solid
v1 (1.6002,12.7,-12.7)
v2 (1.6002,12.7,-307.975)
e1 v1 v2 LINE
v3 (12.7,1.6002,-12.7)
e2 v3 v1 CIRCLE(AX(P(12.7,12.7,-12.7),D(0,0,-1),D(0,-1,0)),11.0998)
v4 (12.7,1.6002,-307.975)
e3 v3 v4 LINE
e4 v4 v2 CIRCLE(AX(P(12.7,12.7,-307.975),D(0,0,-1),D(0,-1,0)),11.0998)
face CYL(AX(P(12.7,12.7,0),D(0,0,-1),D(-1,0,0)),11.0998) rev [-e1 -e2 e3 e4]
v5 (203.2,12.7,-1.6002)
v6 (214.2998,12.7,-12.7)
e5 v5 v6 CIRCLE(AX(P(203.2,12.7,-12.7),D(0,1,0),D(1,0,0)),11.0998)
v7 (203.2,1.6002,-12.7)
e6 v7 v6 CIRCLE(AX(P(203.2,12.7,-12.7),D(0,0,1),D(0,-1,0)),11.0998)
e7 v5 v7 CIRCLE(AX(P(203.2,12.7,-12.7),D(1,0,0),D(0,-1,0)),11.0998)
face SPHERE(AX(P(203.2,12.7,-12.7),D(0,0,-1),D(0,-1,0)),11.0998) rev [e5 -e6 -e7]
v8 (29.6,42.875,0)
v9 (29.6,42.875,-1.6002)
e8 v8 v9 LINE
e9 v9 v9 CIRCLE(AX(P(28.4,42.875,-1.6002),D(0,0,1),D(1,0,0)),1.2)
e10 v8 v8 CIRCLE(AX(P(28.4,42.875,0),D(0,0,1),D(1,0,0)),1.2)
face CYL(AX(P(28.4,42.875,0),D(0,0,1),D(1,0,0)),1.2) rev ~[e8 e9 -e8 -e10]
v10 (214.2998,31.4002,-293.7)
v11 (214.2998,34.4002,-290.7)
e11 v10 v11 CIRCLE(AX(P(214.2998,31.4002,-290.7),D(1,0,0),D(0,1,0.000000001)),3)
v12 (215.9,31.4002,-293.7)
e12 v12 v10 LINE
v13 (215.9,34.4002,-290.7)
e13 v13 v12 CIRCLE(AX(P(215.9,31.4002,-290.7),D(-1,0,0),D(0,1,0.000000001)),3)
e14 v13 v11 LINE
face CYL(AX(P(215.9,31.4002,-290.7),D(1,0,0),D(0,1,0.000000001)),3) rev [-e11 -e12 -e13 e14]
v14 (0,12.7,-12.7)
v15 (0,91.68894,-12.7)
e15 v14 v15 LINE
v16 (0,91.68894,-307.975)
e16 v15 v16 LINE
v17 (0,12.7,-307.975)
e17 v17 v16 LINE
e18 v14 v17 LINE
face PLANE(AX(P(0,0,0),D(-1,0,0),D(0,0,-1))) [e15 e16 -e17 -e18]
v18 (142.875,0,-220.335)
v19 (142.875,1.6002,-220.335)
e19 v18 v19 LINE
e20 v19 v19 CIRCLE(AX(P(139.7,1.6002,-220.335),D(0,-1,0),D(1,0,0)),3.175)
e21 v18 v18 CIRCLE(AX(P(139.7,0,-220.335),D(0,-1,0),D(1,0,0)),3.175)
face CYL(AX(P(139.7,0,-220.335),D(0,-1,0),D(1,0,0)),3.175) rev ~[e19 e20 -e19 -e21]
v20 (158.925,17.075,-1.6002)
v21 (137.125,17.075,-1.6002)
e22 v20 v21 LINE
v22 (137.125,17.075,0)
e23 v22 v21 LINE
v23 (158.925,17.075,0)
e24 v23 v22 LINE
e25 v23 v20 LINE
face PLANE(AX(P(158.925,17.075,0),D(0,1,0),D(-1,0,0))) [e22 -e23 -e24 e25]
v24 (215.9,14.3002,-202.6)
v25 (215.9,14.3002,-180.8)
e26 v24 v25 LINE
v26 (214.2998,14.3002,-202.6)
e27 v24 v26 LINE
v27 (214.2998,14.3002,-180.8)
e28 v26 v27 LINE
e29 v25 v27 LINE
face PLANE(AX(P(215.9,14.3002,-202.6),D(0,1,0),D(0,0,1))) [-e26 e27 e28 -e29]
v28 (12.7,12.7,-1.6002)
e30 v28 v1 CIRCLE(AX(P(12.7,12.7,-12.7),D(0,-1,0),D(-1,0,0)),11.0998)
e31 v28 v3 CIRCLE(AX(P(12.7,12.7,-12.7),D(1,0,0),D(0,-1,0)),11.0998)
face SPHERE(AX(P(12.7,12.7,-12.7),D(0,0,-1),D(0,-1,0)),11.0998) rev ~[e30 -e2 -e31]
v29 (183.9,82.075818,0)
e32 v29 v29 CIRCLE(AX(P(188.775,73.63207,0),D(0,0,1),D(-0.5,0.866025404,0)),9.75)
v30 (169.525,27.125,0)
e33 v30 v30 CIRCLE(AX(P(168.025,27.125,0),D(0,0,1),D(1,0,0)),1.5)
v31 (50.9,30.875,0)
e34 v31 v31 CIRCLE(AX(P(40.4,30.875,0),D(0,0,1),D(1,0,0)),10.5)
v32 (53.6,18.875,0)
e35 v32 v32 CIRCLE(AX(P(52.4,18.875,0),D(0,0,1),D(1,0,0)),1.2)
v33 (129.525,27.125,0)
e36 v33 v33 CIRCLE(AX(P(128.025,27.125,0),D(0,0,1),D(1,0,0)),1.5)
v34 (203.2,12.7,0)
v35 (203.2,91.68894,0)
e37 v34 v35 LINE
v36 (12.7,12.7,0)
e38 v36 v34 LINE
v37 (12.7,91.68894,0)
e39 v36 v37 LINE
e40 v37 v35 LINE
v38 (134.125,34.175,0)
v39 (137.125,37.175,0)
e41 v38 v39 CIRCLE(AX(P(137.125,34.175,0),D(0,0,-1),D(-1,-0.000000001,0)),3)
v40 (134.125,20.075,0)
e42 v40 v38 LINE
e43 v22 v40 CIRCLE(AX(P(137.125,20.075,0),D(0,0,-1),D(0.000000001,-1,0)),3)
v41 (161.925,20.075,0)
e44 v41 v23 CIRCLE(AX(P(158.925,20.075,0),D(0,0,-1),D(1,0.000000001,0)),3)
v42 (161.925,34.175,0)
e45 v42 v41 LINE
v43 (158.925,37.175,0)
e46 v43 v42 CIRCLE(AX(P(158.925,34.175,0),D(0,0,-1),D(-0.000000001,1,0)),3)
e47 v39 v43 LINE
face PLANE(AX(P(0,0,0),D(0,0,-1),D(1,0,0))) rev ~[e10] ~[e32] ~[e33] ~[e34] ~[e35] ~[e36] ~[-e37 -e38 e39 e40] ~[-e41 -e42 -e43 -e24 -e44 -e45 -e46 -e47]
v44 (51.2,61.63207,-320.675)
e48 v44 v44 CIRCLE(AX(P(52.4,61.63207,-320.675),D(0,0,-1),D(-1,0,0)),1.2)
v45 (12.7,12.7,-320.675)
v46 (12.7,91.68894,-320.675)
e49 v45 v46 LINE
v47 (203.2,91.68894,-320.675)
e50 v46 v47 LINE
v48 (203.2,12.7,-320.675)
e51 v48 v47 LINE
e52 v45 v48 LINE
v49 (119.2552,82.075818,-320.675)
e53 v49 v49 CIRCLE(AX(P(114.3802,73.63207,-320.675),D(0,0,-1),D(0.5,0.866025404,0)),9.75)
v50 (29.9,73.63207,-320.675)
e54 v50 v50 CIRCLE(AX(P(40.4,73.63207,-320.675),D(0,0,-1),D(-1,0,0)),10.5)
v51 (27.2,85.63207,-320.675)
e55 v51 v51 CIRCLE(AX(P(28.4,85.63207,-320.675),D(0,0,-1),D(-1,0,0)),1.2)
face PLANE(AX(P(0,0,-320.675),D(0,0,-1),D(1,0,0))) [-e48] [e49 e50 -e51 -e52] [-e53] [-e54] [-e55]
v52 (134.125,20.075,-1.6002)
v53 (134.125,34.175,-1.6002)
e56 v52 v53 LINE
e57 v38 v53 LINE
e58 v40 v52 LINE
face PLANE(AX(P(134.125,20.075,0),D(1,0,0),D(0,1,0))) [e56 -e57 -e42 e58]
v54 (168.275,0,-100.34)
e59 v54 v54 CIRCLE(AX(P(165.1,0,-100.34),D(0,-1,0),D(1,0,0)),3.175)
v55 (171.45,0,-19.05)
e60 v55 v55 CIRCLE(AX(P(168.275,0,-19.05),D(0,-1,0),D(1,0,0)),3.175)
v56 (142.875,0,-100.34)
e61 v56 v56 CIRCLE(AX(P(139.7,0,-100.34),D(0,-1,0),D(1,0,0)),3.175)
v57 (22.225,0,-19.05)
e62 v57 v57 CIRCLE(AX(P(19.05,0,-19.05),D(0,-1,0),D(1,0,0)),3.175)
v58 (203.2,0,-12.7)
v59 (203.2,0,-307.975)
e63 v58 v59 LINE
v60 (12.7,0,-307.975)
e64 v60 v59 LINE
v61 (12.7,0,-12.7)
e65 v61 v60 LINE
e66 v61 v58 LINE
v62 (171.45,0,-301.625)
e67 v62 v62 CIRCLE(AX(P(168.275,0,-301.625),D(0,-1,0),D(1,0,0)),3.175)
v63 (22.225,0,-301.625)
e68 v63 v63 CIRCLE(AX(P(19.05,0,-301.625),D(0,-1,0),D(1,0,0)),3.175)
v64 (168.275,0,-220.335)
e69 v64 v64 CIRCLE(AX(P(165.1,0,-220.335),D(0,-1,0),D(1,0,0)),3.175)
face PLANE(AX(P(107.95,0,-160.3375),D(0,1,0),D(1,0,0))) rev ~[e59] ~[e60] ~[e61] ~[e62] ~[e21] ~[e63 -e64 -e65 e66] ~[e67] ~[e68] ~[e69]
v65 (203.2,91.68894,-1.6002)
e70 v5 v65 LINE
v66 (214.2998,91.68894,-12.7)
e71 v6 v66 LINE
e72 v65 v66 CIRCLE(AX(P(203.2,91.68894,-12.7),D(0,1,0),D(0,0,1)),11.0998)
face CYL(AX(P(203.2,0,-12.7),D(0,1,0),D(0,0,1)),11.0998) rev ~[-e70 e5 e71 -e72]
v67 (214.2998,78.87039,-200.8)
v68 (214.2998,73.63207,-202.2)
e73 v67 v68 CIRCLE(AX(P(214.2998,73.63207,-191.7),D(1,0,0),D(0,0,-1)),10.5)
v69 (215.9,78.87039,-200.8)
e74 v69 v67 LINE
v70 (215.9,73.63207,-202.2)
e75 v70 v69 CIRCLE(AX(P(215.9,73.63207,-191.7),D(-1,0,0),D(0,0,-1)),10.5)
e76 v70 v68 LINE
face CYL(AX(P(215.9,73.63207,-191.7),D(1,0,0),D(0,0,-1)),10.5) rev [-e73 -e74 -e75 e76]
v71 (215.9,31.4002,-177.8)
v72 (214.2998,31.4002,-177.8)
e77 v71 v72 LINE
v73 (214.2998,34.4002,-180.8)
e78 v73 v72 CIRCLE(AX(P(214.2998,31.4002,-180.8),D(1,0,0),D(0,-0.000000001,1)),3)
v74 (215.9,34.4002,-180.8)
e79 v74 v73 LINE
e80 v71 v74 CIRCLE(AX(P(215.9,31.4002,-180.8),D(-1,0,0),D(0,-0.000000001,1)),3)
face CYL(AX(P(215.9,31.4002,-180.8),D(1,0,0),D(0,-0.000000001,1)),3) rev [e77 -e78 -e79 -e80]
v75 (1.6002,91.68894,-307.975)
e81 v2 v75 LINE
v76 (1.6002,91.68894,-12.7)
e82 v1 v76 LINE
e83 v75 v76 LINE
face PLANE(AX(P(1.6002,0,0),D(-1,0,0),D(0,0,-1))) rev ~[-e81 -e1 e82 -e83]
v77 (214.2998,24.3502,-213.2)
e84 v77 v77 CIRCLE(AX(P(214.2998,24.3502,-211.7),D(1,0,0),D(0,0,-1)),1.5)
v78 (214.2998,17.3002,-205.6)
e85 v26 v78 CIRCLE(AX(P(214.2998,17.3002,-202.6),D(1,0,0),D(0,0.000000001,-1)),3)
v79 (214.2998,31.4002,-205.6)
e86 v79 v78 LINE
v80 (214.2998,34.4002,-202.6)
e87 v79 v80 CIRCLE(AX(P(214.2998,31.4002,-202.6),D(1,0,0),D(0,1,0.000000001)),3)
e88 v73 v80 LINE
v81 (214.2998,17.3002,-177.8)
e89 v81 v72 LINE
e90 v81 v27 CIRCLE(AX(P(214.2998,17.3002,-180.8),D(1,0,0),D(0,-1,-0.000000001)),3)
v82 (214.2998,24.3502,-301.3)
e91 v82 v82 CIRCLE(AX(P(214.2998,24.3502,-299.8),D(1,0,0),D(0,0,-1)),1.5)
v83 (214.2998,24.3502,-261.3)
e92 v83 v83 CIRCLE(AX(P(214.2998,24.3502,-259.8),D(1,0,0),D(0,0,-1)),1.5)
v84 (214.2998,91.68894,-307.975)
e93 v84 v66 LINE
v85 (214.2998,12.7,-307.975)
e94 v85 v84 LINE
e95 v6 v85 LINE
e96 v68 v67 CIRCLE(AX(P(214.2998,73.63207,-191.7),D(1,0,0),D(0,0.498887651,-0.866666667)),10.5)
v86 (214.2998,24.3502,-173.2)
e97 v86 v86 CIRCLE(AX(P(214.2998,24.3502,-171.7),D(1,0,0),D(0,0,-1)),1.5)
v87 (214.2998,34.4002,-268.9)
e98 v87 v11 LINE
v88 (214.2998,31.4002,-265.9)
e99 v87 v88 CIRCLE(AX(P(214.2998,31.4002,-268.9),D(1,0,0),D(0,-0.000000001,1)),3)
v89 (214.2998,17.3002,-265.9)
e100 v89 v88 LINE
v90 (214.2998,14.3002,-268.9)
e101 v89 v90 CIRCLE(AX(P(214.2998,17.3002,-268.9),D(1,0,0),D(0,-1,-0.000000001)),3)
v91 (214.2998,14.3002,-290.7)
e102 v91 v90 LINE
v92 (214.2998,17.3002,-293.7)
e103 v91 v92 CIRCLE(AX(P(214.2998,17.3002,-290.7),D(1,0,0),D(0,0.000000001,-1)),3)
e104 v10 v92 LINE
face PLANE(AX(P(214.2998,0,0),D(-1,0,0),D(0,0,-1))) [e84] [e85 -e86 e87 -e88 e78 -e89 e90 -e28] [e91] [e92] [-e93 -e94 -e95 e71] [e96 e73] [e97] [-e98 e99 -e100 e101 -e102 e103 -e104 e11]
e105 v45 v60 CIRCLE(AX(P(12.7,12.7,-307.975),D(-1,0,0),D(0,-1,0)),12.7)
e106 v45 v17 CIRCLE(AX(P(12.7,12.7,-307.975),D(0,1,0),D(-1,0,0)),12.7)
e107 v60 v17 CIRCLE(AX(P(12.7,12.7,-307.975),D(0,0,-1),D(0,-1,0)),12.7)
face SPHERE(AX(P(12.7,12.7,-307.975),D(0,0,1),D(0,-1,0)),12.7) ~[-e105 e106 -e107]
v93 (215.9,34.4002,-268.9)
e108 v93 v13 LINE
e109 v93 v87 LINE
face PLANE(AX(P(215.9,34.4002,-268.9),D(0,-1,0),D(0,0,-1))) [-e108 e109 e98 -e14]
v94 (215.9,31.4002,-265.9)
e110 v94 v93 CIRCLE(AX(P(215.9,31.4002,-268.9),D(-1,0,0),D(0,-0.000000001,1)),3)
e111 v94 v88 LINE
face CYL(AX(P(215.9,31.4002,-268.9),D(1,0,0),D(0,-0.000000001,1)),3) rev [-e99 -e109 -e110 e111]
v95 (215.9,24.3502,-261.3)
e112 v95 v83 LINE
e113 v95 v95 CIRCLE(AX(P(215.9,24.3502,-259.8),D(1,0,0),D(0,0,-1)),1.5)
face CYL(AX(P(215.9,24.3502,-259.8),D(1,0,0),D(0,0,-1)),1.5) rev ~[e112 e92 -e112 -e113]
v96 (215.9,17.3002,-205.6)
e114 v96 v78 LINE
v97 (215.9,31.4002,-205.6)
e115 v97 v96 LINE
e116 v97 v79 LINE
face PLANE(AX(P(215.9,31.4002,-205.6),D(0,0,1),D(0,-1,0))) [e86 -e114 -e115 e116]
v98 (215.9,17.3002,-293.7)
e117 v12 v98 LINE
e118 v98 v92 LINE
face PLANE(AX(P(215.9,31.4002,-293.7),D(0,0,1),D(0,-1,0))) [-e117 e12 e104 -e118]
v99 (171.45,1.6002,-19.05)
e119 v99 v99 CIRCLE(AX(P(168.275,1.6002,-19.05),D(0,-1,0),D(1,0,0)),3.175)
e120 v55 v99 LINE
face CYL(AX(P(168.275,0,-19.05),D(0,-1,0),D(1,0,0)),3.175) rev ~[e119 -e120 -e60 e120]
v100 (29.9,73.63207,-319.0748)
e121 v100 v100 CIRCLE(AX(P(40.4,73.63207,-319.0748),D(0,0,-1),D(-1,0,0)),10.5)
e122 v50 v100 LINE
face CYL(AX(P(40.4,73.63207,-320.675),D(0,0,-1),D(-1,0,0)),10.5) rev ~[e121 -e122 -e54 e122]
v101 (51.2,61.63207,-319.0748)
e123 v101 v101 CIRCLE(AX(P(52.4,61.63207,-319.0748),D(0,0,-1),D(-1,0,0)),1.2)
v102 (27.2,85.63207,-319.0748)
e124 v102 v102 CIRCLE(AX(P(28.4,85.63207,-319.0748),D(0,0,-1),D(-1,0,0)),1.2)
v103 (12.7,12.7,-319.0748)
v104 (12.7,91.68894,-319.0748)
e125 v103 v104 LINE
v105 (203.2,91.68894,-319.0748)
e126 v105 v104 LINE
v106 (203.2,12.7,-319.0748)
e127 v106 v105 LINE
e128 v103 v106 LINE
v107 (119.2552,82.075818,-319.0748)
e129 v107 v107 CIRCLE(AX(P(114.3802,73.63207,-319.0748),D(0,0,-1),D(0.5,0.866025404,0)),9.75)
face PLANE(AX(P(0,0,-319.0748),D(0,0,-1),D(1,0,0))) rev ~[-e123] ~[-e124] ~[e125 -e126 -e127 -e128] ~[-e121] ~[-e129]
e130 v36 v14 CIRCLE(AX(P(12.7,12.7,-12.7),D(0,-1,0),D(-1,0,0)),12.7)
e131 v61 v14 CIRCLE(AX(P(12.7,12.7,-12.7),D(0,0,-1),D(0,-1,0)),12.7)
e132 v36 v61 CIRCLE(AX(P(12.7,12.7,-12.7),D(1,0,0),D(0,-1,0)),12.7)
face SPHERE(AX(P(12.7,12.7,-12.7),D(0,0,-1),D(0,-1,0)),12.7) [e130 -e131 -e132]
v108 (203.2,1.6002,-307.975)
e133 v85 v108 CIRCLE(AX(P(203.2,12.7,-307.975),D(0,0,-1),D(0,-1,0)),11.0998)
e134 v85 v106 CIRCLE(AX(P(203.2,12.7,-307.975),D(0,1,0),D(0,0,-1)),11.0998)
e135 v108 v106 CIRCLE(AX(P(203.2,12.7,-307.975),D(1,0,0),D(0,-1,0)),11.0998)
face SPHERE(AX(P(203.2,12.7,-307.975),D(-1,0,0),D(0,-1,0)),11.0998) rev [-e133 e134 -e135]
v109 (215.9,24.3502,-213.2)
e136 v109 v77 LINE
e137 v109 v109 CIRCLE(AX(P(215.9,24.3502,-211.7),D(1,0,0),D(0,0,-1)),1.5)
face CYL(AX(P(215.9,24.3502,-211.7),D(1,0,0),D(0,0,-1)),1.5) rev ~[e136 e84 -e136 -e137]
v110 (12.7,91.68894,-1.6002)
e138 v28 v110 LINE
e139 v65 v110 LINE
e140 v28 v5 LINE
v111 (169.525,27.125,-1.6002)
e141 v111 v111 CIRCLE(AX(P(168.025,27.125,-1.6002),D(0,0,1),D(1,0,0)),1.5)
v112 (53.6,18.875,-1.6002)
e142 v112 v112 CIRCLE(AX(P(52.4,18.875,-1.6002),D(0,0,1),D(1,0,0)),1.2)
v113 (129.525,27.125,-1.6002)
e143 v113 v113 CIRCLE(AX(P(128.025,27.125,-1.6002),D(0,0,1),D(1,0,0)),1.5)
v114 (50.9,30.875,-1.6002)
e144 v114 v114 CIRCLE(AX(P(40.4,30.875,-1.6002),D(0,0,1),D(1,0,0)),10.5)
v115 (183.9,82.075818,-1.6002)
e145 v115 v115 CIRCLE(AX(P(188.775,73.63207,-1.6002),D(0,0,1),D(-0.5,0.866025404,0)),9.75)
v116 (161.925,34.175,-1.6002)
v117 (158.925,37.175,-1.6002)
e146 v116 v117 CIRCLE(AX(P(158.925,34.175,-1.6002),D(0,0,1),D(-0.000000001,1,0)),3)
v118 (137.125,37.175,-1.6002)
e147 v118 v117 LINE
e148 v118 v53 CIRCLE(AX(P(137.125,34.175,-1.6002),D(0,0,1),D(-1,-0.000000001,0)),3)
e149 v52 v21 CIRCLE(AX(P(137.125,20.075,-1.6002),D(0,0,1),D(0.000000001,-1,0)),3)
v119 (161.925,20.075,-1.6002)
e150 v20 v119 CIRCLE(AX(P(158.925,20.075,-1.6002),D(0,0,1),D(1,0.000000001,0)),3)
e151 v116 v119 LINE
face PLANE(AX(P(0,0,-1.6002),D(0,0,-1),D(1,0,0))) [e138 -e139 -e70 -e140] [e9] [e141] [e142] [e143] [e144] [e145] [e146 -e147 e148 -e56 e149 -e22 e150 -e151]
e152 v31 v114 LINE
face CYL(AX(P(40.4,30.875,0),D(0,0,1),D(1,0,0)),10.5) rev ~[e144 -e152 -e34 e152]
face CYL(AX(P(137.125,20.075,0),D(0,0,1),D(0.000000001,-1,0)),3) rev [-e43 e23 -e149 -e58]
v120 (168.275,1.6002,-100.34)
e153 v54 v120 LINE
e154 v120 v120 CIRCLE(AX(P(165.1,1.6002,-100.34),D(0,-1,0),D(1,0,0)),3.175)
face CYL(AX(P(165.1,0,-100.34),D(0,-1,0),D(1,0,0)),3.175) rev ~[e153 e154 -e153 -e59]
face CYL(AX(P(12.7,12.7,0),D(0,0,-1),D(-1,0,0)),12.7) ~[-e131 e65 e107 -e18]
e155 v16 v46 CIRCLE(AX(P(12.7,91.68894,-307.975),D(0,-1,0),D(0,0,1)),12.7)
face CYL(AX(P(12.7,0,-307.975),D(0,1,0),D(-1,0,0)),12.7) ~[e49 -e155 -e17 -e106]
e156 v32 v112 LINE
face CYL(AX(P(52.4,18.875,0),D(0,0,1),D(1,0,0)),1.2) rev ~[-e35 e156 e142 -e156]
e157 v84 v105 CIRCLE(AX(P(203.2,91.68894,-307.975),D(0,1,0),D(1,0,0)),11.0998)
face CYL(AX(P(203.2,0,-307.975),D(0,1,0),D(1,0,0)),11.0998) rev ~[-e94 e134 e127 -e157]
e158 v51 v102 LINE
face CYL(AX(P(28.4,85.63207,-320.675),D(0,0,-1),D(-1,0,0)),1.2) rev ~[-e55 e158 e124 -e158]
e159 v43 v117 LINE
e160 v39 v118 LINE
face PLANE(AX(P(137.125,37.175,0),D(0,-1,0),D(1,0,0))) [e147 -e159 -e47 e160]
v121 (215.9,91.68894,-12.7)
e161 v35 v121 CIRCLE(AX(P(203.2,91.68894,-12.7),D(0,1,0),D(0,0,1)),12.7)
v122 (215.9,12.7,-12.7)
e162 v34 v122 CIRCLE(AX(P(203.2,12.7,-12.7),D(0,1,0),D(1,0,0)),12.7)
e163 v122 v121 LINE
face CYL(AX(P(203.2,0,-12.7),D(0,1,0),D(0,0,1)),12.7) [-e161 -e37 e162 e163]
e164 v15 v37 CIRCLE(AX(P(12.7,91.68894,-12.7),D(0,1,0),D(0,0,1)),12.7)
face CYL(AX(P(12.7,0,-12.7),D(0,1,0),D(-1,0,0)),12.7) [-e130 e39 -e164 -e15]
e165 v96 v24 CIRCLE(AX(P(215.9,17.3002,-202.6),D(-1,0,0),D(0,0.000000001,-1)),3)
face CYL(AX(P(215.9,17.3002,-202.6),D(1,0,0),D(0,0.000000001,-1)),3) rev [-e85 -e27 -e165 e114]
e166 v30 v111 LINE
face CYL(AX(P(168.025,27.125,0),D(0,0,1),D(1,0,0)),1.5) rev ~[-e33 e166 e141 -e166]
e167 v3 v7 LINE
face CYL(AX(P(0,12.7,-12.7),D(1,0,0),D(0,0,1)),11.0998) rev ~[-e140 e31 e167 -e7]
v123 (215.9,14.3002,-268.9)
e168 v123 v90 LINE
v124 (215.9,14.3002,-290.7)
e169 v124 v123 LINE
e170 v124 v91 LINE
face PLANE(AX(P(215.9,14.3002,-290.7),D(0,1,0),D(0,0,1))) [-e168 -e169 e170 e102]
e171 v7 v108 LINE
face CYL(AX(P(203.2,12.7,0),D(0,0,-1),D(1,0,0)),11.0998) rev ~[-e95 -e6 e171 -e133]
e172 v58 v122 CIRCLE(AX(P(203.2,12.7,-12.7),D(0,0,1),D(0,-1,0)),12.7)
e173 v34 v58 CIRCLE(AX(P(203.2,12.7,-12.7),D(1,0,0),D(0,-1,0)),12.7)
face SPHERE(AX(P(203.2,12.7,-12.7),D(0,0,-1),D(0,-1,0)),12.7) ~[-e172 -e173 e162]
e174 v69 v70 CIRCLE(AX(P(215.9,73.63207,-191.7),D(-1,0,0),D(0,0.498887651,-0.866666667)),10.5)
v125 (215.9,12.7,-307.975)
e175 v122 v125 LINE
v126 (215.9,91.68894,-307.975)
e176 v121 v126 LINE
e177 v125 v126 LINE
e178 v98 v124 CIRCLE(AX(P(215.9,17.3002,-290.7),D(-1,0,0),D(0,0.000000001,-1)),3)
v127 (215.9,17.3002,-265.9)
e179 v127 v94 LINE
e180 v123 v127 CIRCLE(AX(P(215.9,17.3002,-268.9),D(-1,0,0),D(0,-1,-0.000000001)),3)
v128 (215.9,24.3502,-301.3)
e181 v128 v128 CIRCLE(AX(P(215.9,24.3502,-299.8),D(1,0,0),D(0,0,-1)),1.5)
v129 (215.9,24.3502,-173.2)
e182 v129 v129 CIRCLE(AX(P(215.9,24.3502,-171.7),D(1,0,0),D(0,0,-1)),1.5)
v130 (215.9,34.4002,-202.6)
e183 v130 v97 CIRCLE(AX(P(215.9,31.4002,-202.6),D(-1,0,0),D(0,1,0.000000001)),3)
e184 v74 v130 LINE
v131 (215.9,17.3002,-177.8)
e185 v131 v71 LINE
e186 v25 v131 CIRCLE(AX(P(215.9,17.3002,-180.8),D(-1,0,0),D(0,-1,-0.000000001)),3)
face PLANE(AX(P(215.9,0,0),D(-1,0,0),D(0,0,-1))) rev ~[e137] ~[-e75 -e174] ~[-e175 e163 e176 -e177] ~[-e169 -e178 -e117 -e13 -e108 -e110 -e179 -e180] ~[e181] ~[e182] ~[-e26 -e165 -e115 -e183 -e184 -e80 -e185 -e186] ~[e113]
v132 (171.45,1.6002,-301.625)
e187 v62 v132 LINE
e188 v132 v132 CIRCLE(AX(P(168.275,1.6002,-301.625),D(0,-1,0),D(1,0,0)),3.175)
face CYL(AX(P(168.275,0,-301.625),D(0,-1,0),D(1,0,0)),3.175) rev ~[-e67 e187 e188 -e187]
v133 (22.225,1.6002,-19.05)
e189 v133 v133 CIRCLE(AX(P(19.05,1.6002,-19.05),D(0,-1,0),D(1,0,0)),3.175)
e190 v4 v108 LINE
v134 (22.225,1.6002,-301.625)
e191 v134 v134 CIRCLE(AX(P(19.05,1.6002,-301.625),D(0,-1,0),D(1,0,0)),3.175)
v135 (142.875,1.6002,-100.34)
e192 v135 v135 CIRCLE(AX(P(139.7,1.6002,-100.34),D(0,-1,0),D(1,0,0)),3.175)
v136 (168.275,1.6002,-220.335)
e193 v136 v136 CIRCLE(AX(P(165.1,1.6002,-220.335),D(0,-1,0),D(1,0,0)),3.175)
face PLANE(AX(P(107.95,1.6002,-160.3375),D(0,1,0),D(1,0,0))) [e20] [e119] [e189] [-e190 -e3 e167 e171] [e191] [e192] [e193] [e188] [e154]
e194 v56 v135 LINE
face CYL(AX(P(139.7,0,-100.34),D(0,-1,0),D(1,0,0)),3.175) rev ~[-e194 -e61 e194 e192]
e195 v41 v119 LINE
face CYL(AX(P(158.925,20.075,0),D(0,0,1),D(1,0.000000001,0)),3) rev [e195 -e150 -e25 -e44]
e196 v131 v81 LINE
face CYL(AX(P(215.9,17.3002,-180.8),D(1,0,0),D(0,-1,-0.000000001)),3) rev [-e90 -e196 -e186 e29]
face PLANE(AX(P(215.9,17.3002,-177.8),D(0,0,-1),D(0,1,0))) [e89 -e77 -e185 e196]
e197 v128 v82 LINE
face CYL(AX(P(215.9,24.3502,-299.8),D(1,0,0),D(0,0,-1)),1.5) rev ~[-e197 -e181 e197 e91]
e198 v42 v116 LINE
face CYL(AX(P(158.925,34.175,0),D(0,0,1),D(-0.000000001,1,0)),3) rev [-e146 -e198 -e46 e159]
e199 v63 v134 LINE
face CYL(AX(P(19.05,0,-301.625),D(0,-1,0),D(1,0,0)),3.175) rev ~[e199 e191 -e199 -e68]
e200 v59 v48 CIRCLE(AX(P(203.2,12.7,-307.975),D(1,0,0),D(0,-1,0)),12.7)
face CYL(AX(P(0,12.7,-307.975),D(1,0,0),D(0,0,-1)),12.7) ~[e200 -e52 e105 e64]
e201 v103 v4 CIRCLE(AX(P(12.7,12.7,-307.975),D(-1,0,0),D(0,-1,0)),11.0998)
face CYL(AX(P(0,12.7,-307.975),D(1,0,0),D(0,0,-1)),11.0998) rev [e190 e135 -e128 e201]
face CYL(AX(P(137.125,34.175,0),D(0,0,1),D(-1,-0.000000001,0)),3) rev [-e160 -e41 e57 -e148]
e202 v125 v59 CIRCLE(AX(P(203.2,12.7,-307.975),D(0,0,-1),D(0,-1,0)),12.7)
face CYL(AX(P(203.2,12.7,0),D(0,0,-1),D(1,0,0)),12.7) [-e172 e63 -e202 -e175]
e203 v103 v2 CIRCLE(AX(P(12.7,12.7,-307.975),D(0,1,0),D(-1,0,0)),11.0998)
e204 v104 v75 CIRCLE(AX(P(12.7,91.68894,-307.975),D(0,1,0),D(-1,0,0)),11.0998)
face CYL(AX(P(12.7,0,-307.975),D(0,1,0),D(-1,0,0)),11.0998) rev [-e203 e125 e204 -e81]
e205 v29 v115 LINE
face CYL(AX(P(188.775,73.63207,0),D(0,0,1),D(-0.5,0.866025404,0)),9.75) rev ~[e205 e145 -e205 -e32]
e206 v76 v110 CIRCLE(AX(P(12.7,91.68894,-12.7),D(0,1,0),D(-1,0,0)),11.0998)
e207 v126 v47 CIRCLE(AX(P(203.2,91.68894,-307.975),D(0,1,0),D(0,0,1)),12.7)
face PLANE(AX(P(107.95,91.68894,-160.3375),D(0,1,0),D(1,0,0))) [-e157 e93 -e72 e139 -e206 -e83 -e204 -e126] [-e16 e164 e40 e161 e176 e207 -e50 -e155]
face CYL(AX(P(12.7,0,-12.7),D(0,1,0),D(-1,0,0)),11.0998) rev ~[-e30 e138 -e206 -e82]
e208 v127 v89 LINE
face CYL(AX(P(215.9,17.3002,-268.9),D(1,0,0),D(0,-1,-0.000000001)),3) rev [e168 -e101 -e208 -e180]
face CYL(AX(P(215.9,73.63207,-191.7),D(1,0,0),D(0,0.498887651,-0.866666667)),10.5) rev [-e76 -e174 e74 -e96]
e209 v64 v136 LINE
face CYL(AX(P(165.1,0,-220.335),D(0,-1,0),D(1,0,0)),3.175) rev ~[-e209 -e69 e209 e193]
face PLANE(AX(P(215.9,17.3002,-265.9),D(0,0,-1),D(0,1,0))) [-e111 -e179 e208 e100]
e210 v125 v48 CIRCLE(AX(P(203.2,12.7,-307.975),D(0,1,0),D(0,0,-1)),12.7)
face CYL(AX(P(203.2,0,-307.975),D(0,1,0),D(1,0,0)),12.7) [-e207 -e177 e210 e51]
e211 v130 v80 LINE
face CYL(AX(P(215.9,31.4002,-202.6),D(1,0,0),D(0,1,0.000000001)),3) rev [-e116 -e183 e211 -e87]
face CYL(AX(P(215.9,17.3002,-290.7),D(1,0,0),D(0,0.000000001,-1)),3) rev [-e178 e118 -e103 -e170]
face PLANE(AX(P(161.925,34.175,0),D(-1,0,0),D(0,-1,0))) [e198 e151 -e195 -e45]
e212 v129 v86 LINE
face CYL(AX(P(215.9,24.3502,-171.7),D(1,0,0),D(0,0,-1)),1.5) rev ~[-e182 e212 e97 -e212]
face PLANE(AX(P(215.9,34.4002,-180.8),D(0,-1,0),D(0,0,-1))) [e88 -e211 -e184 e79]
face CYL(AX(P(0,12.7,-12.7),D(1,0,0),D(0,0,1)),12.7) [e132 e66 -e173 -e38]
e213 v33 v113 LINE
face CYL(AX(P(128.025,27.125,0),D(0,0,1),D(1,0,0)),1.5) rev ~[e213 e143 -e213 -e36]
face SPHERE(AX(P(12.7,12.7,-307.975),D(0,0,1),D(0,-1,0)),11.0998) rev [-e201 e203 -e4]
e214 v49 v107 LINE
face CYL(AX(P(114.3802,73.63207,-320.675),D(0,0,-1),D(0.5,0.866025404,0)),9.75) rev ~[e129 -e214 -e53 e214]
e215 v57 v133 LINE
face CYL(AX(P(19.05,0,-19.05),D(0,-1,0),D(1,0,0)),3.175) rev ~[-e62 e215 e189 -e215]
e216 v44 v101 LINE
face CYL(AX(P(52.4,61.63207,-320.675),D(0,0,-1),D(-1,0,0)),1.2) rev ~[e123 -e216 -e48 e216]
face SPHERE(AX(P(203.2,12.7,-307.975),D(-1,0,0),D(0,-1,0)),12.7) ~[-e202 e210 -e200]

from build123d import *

# Parameters (mm, degrees)
SKETCH1_W           = 215.9
SKETCH1_H           = 320.675
BOSS_EXTRUDE1_DEPTH = 91.688940066
FILLET1_R           = 12.7
SHELL1_T            = -1.6002
CUT_EXTRUDE1_REACH  = 217.9
SKETCH2_R           = 1.5
CUT_EXTRUDE2_REACH  = 322.675
SKETCH5_R           = 1.5
SKETCH5_R_2         = 1.2
SKETCH5_R_3         = 10.5
CUT_EXTRUDE3_REACH  = 322.675
SKETCH6_R           = 1.2
SKETCH6_R_2         = 10.5
CUT_EXTRUDE4_REACH  = 93.689
SKETCH7_R           = 3.175


with BuildPart() as part:
    # Sketch1 → Boss-Extrude1 (new body)
    with BuildSketch(Plane(origin=(0, 0, 0), x_dir=(1, 0, 0), z_dir=(0, 1, 0))):
        with Locations((107.95, 160.3375)):
            Rectangle(SKETCH1_W, SKETCH1_H)
    extrude(amount=BOSS_EXTRUDE1_DEPTH)

    # Fillet1
    fillet1_edges = [part.edges().sort_by_distance(p)[0] for p in [
        (0, 0, -160.3375),
        (107.95, 0, -320.675),
        (215.9, 0, -160.3375),
        (107.95, 0, 0),
        (0, 45.844470033, 0),
        (0, 45.844470033, -320.675),
        (215.9, 45.844470033, -320.675),
        (215.9, 45.844470033, 0),
    ]]
    fillet(fillet1_edges, radius=FILLET1_R)

    # Shell1
    shell1_openings = [part.faces().sort_by_distance(p)[0] for p in [
        (107.95, 91.688940066, -160.3375),
    ]]
    offset(amount=SHELL1_T, openings=shell1_openings, kind=Kind.INTERSECTION)

    # Sketch2 → Cut-Extrude1 (cut, up to next)
    with BuildSketch(Plane(origin=(215.9, 0, 0), x_dir=(0, 0, -1), z_dir=(1, 0, 0)), mode=Mode.PRIVATE) as cut_extrude1_sk1:
        with BuildLine():
            ThreePointArc((200.8, 78.870390374), (201.843963722, 76.343158375), (202.2, 73.632070033))
            ThreePointArc((202.2, 73.632070033), (181.556036278, 70.920981691), (200.8, 78.870390374))
        make_face()
    cut_extrude1_tool1 = extrude(cut_extrude1_sk1.sketch, amount=-CUT_EXTRUDE1_REACH, mode=Mode.PRIVATE) & part.part
    add(cut_extrude1_tool1.solids().sort_by_distance((215.9, 73.63207, -191.7))[0], mode=Mode.SUBTRACT)
    # Sketch2 → Cut-Extrude1 (cut, up to next)
    with BuildSketch(Plane(origin=(215.9, 0, 0), x_dir=(0, 0, -1), z_dir=(1, 0, 0)), mode=Mode.PRIVATE) as cut_extrude1_sk2:
        with Locations((171.7, 24.3502)):
            Circle(SKETCH2_R)
    cut_extrude1_tool2 = extrude(cut_extrude1_sk2.sketch, amount=-CUT_EXTRUDE1_REACH, mode=Mode.PRIVATE) & part.part
    add(cut_extrude1_tool2.solids().sort_by_distance((215.9, 24.3502, -171.7))[0], mode=Mode.SUBTRACT)
    # Sketch2 → Cut-Extrude1 (cut, up to next)
    with BuildSketch(Plane(origin=(215.9, 0, 0), x_dir=(0, 0, -1), z_dir=(1, 0, 0)), mode=Mode.PRIVATE) as cut_extrude1_sk3:
        with Locations((211.7, 24.3502)):
            Circle(SKETCH2_R)
    cut_extrude1_tool3 = extrude(cut_extrude1_sk3.sketch, amount=-CUT_EXTRUDE1_REACH, mode=Mode.PRIVATE) & part.part
    add(cut_extrude1_tool3.solids().sort_by_distance((215.9, 24.3502, -211.7))[0], mode=Mode.SUBTRACT)
    # Sketch2 → Cut-Extrude1 (cut, up to next)
    with BuildSketch(Plane(origin=(215.9, 0, 0), x_dir=(0, 0, -1), z_dir=(1, 0, 0)), mode=Mode.PRIVATE) as cut_extrude1_sk4:
        with Locations((259.8, 24.3502)):
            Circle(SKETCH2_R)
    cut_extrude1_tool4 = extrude(cut_extrude1_sk4.sketch, amount=-CUT_EXTRUDE1_REACH, mode=Mode.PRIVATE) & part.part
    add(cut_extrude1_tool4.solids().sort_by_distance((215.9, 24.3502, -259.8))[0], mode=Mode.SUBTRACT)
    # Sketch2 → Cut-Extrude1 (cut, up to next)
    with BuildSketch(Plane(origin=(215.9, 0, 0), x_dir=(0, 0, -1), z_dir=(1, 0, 0)), mode=Mode.PRIVATE) as cut_extrude1_sk5:
        with Locations((299.8, 24.3502)):
            Circle(SKETCH2_R)
    cut_extrude1_tool5 = extrude(cut_extrude1_sk5.sketch, amount=-CUT_EXTRUDE1_REACH, mode=Mode.PRIVATE) & part.part
    add(cut_extrude1_tool5.solids().sort_by_distance((215.9, 24.3502, -299.8))[0], mode=Mode.SUBTRACT)
    # Sketch2 → Cut-Extrude1 (cut, up to next)
    with BuildSketch(Plane(origin=(215.9, 0, 0), x_dir=(0, 0, -1), z_dir=(1, 0, 0)), mode=Mode.PRIVATE) as cut_extrude1_sk6:
        with BuildLine():
            Line((268.9, 34.4002), (290.7, 34.4002))
            ThreePointArc((290.7, 34.4002), (292.821320344, 33.521520344), (293.7, 31.4002))
            Line((293.7, 31.4002), (293.7, 17.3002))
            ThreePointArc((293.7, 17.3002), (292.821320344, 15.178879656), (290.7, 14.3002))
            Line((290.7, 14.3002), (268.9, 14.3002))
            ThreePointArc((268.9, 14.3002), (266.778679656, 15.178879656), (265.9, 17.3002))
            Line((265.9, 17.3002), (265.9, 31.4002))
            ThreePointArc((265.9, 31.4002), (266.778679656, 33.521520344), (268.9, 34.4002))
        make_face()
    cut_extrude1_tool6 = extrude(cut_extrude1_sk6.sketch, amount=-CUT_EXTRUDE1_REACH, mode=Mode.PRIVATE) & part.part
    add(cut_extrude1_tool6.solids().sort_by_distance((215.9, 24.3502, -279.8))[0], mode=Mode.SUBTRACT)
    # Sketch2 → Cut-Extrude1 (cut, up to next)
    with BuildSketch(Plane(origin=(215.9, 0, 0), x_dir=(0, 0, -1), z_dir=(1, 0, 0)), mode=Mode.PRIVATE) as cut_extrude1_sk7:
        with BuildLine():
            Line((180.8, 34.4002), (202.6, 34.4002))
            ThreePointArc((202.6, 34.4002), (204.721320344, 33.521520344), (205.6, 31.4002))
            Line((205.6, 31.4002), (205.6, 17.3002))
            ThreePointArc((205.6, 17.3002), (204.721320344, 15.178879656), (202.6, 14.3002))
            Line((202.6, 14.3002), (180.8, 14.3002))
            ThreePointArc((180.8, 14.3002), (178.678679656, 15.178879656), (177.8, 17.3002))
            Line((177.8, 17.3002), (177.8, 31.4002))
            ThreePointArc((177.8, 31.4002), (178.678679656, 33.521520344), (180.8, 34.4002))
        make_face()
    cut_extrude1_tool7 = extrude(cut_extrude1_sk7.sketch, amount=-CUT_EXTRUDE1_REACH, mode=Mode.PRIVATE) & part.part
    add(cut_extrude1_tool7.solids().sort_by_distance((215.9, 24.3502, -191.7))[0], mode=Mode.SUBTRACT)

    # Sketch5 → Cut-Extrude2 (cut, up to next)
    with BuildSketch(Plane(origin=(317.5, 0, 0), x_dir=(1, 0, 0), z_dir=(0, 0, 1)), mode=Mode.PRIVATE) as cut_extrude2_sk1:
        with Locations((-189.475, 27.125)):
            Circle(SKETCH5_R)
    cut_extrude2_tool1 = extrude(cut_extrude2_sk1.sketch, amount=-CUT_EXTRUDE2_REACH, mode=Mode.PRIVATE) & part.part
    add(cut_extrude2_tool1.solids().sort_by_distance((128.025, 27.125, 0))[0], mode=Mode.SUBTRACT)
    # Sketch5 → Cut-Extrude2 (cut, up to next)
    with BuildSketch(Plane(origin=(317.5, 0, 0), x_dir=(1, 0, 0), z_dir=(0, 0, 1)), mode=Mode.PRIVATE) as cut_extrude2_sk2:
        with Locations((-149.475, 27.125)):
            Circle(SKETCH5_R)
    cut_extrude2_tool2 = extrude(cut_extrude2_sk2.sketch, amount=-CUT_EXTRUDE2_REACH, mode=Mode.PRIVATE) & part.part
    add(cut_extrude2_tool2.solids().sort_by_distance((168.025, 27.125, 0))[0], mode=Mode.SUBTRACT)
    # Sketch5 → Cut-Extrude2 (cut, up to next)
    with BuildSketch(Plane(origin=(317.5, 0, 0), x_dir=(1, 0, 0), z_dir=(0, 0, 1)), mode=Mode.PRIVATE) as cut_extrude2_sk3:
        with Locations((-289.1, 42.875)):
            Circle(SKETCH5_R_2)
    cut_extrude2_tool3 = extrude(cut_extrude2_sk3.sketch, amount=-CUT_EXTRUDE2_REACH, mode=Mode.PRIVATE) & part.part
    add(cut_extrude2_tool3.solids().sort_by_distance((28.4, 42.875, 0))[0], mode=Mode.SUBTRACT)
    # Sketch5 → Cut-Extrude2 (cut, up to next)
    with BuildSketch(Plane(origin=(317.5, 0, 0), x_dir=(1, 0, 0), z_dir=(0, 0, 1)), mode=Mode.PRIVATE) as cut_extrude2_sk4:
        with Locations((-265.1, 18.875)):
            Circle(SKETCH5_R_2)
    cut_extrude2_tool4 = extrude(cut_extrude2_sk4.sketch, amount=-CUT_EXTRUDE2_REACH, mode=Mode.PRIVATE) & part.part
    add(cut_extrude2_tool4.solids().sort_by_distance((52.4, 18.875, 0))[0], mode=Mode.SUBTRACT)
    # Sketch5 → Cut-Extrude2 (cut, up to next)
    with BuildSketch(Plane(origin=(317.5, 0, 0), x_dir=(1, 0, 0), z_dir=(0, 0, 1)), mode=Mode.PRIVATE) as cut_extrude2_sk5:
        with Locations((-277.1, 30.875)):
            Circle(SKETCH5_R_3)
    cut_extrude2_tool5 = extrude(cut_extrude2_sk5.sketch, amount=-CUT_EXTRUDE2_REACH, mode=Mode.PRIVATE) & part.part
    add(cut_extrude2_tool5.solids().sort_by_distance((40.4, 30.875, 0))[0], mode=Mode.SUBTRACT)
    # Sketch5 → Cut-Extrude2 (cut, up to next)
    with BuildSketch(Plane(origin=(317.5, 0, 0), x_dir=(1, 0, 0), z_dir=(0, 0, 1)), mode=Mode.PRIVATE) as cut_extrude2_sk6:
        with BuildLine():
            Line((-180.375, 37.175), (-158.575, 37.175))
            ThreePointArc((-158.575, 37.175), (-156.453679656, 36.296320344), (-155.575, 34.175))
            Line((-155.575, 34.175), (-155.575, 20.075))
            ThreePointArc((-155.575, 20.075), (-156.453679656, 17.953679656), (-158.575, 17.075))
            Line((-158.575, 17.075), (-180.375, 17.075))
            ThreePointArc((-180.375, 17.075), (-182.496320344, 17.953679656), (-183.375, 20.075))
            Line((-183.375, 20.075), (-183.375, 34.175))
            ThreePointArc((-183.375, 34.175), (-182.496320344, 36.296320344), (-180.375, 37.175))
        make_face()
    cut_extrude2_tool6 = extrude(cut_extrude2_sk6.sketch, amount=-CUT_EXTRUDE2_REACH, mode=Mode.PRIVATE) & part.part
    add(cut_extrude2_tool6.solids().sort_by_distance((148.025, 27.125, 0))[0], mode=Mode.SUBTRACT)
    # Sketch5 → Cut-Extrude2 (cut, up to next)
    with BuildSketch(Plane(origin=(317.5, 0, 0), x_dir=(1, 0, 0), z_dir=(0, 0, 1)), mode=Mode.PRIVATE) as cut_extrude2_sk7:
        with BuildLine():
            ThreePointArc((-123.85, 65.188322344), (-120.281252313, 78.507070031), (-133.6, 82.075817718))
            ThreePointArc((-133.6, 82.075817718), (-137.168747687, 68.757070031), (-123.85, 65.188322344))
        make_face()
    cut_extrude2_tool7 = extrude(cut_extrude2_sk7.sketch, amount=-CUT_EXTRUDE2_REACH, mode=Mode.PRIVATE) & part.part
    add(cut_extrude2_tool7.solids().sort_by_distance((188.775, 73.63207, 0))[0], mode=Mode.SUBTRACT)

    # Sketch6 → Cut-Extrude3 (cut, up to next)
    with BuildSketch(Plane(origin=(0, 0, -320.675), x_dir=(-1, 0, 0), z_dir=(0, 0, -1)), mode=Mode.PRIVATE) as cut_extrude3_sk1:
        with Locations((-28.4, 85.632070033)):
            Circle(SKETCH6_R)
    cut_extrude3_tool1 = extrude(cut_extrude3_sk1.sketch, amount=-CUT_EXTRUDE3_REACH, mode=Mode.PRIVATE) & part.part
    add(cut_extrude3_tool1.solids().sort_by_distance((28.4, 85.63207, -320.675))[0], mode=Mode.SUBTRACT)
    # Sketch6 → Cut-Extrude3 (cut, up to next)
    with BuildSketch(Plane(origin=(0, 0, -320.675), x_dir=(-1, 0, 0), z_dir=(0, 0, -1)), mode=Mode.PRIVATE) as cut_extrude3_sk2:
        with Locations((-52.4, 61.632070033)):
            Circle(SKETCH6_R)
    cut_extrude3_tool2 = extrude(cut_extrude3_sk2.sketch, amount=-CUT_EXTRUDE3_REACH, mode=Mode.PRIVATE) & part.part
    add(cut_extrude3_tool2.solids().sort_by_distance((52.4, 61.63207, -320.675))[0], mode=Mode.SUBTRACT)
    # Sketch6 → Cut-Extrude3 (cut, up to next)
    with BuildSketch(Plane(origin=(0, 0, -320.675), x_dir=(-1, 0, 0), z_dir=(0, 0, -1)), mode=Mode.PRIVATE) as cut_extrude3_sk3:
        with Locations((-40.4, 73.632070033)):
            Circle(SKETCH6_R_2)
    cut_extrude3_tool3 = extrude(cut_extrude3_sk3.sketch, amount=-CUT_EXTRUDE3_REACH, mode=Mode.PRIVATE) & part.part
    add(cut_extrude3_tool3.solids().sort_by_distance((40.4, 73.63207, -320.675))[0], mode=Mode.SUBTRACT)
    # Sketch6 → Cut-Extrude3 (cut, up to next)
    with BuildSketch(Plane(origin=(0, 0, -320.675), x_dir=(-1, 0, 0), z_dir=(0, 0, -1)), mode=Mode.PRIVATE) as cut_extrude3_sk4:
        with BuildLine():
            ThreePointArc((-109.5052, 65.188322346), (-105.936452313, 78.507070033), (-119.2552, 82.07581772))
            ThreePointArc((-119.2552, 82.07581772), (-122.823947687, 68.757070033), (-109.5052, 65.188322346))
        make_face()
    cut_extrude3_tool4 = extrude(cut_extrude3_sk4.sketch, amount=-CUT_EXTRUDE3_REACH, mode=Mode.PRIVATE) & part.part
    add(cut_extrude3_tool4.solids().sort_by_distance((114.3802, 73.63207, -320.675))[0], mode=Mode.SUBTRACT)

    # Sketch7 → Cut-Extrude4 (cut, up to next)
    with BuildSketch(Plane.XZ, mode=Mode.PRIVATE) as cut_extrude4_sk1:
        with Locations((19.05, -301.625)):
            Circle(SKETCH7_R)
    cut_extrude4_tool1 = extrude(cut_extrude4_sk1.sketch, amount=-CUT_EXTRUDE4_REACH, mode=Mode.PRIVATE) & part.part
    add(cut_extrude4_tool1.solids().sort_by_distance((19.05, 0, -301.625))[0], mode=Mode.SUBTRACT)
    # Sketch7 → Cut-Extrude4 (cut, up to next)
    with BuildSketch(Plane.XZ, mode=Mode.PRIVATE) as cut_extrude4_sk2:
        with Locations((19.05, -19.05)):
            Circle(SKETCH7_R)
    cut_extrude4_tool2 = extrude(cut_extrude4_sk2.sketch, amount=-CUT_EXTRUDE4_REACH, mode=Mode.PRIVATE) & part.part
    add(cut_extrude4_tool2.solids().sort_by_distance((19.05, 0, -19.05))[0], mode=Mode.SUBTRACT)
    # Sketch7 → Cut-Extrude4 (cut, up to next)
    with BuildSketch(Plane.XZ, mode=Mode.PRIVATE) as cut_extrude4_sk3:
        with Locations((139.7, -100.34)):
            Circle(SKETCH7_R)
    cut_extrude4_tool3 = extrude(cut_extrude4_sk3.sketch, amount=-CUT_EXTRUDE4_REACH, mode=Mode.PRIVATE) & part.part
    add(cut_extrude4_tool3.solids().sort_by_distance((139.7, 0, -100.34))[0], mode=Mode.SUBTRACT)
    # Sketch7 → Cut-Extrude4 (cut, up to next)
    with BuildSketch(Plane.XZ, mode=Mode.PRIVATE) as cut_extrude4_sk4:
        with Locations((165.1, -100.34)):
            Circle(SKETCH7_R)
    cut_extrude4_tool4 = extrude(cut_extrude4_sk4.sketch, amount=-CUT_EXTRUDE4_REACH, mode=Mode.PRIVATE) & part.part
    add(cut_extrude4_tool4.solids().sort_by_distance((165.1, 0, -100.34))[0], mode=Mode.SUBTRACT)
    # Sketch7 → Cut-Extrude4 (cut, up to next)
    with BuildSketch(Plane.XZ, mode=Mode.PRIVATE) as cut_extrude4_sk5:
        with Locations((139.7, -220.335)):
            Circle(SKETCH7_R)
    cut_extrude4_tool5 = extrude(cut_extrude4_sk5.sketch, amount=-CUT_EXTRUDE4_REACH, mode=Mode.PRIVATE) & part.part
    add(cut_extrude4_tool5.solids().sort_by_distance((139.7, 0, -220.335))[0], mode=Mode.SUBTRACT)
    # Sketch7 → Cut-Extrude4 (cut, up to next)
    with BuildSketch(Plane.XZ, mode=Mode.PRIVATE) as cut_extrude4_sk6:
        with Locations((168.275, -301.625)):
            Circle(SKETCH7_R)
    cut_extrude4_tool6 = extrude(cut_extrude4_sk6.sketch, amount=-CUT_EXTRUDE4_REACH, mode=Mode.PRIVATE) & part.part
    add(cut_extrude4_tool6.solids().sort_by_distance((168.275, 0, -301.625))[0], mode=Mode.SUBTRACT)
    # Sketch7 → Cut-Extrude4 (cut, up to next)
    with BuildSketch(Plane.XZ, mode=Mode.PRIVATE) as cut_extrude4_sk7:
        with Locations((168.275, -19.05)):
            Circle(SKETCH7_R)
    cut_extrude4_tool7 = extrude(cut_extrude4_sk7.sketch, amount=-CUT_EXTRUDE4_REACH, mode=Mode.PRIVATE) & part.part
    add(cut_extrude4_tool7.solids().sort_by_distance((168.275, 0, -19.05))[0], mode=Mode.SUBTRACT)
    # Sketch7 → Cut-Extrude4 (cut, up to next)
    with BuildSketch(Plane.XZ, mode=Mode.PRIVATE) as cut_extrude4_sk8:
        with Locations((165.1, -220.335)):
            Circle(SKETCH7_R)
    cut_extrude4_tool8 = extrude(cut_extrude4_sk8.sketch, amount=-CUT_EXTRUDE4_REACH, mode=Mode.PRIVATE) & part.part
    add(cut_extrude4_tool8.solids().sort_by_distance((165.1, 0, -220.335))[0], mode=Mode.SUBTRACT)


solid = part.part
